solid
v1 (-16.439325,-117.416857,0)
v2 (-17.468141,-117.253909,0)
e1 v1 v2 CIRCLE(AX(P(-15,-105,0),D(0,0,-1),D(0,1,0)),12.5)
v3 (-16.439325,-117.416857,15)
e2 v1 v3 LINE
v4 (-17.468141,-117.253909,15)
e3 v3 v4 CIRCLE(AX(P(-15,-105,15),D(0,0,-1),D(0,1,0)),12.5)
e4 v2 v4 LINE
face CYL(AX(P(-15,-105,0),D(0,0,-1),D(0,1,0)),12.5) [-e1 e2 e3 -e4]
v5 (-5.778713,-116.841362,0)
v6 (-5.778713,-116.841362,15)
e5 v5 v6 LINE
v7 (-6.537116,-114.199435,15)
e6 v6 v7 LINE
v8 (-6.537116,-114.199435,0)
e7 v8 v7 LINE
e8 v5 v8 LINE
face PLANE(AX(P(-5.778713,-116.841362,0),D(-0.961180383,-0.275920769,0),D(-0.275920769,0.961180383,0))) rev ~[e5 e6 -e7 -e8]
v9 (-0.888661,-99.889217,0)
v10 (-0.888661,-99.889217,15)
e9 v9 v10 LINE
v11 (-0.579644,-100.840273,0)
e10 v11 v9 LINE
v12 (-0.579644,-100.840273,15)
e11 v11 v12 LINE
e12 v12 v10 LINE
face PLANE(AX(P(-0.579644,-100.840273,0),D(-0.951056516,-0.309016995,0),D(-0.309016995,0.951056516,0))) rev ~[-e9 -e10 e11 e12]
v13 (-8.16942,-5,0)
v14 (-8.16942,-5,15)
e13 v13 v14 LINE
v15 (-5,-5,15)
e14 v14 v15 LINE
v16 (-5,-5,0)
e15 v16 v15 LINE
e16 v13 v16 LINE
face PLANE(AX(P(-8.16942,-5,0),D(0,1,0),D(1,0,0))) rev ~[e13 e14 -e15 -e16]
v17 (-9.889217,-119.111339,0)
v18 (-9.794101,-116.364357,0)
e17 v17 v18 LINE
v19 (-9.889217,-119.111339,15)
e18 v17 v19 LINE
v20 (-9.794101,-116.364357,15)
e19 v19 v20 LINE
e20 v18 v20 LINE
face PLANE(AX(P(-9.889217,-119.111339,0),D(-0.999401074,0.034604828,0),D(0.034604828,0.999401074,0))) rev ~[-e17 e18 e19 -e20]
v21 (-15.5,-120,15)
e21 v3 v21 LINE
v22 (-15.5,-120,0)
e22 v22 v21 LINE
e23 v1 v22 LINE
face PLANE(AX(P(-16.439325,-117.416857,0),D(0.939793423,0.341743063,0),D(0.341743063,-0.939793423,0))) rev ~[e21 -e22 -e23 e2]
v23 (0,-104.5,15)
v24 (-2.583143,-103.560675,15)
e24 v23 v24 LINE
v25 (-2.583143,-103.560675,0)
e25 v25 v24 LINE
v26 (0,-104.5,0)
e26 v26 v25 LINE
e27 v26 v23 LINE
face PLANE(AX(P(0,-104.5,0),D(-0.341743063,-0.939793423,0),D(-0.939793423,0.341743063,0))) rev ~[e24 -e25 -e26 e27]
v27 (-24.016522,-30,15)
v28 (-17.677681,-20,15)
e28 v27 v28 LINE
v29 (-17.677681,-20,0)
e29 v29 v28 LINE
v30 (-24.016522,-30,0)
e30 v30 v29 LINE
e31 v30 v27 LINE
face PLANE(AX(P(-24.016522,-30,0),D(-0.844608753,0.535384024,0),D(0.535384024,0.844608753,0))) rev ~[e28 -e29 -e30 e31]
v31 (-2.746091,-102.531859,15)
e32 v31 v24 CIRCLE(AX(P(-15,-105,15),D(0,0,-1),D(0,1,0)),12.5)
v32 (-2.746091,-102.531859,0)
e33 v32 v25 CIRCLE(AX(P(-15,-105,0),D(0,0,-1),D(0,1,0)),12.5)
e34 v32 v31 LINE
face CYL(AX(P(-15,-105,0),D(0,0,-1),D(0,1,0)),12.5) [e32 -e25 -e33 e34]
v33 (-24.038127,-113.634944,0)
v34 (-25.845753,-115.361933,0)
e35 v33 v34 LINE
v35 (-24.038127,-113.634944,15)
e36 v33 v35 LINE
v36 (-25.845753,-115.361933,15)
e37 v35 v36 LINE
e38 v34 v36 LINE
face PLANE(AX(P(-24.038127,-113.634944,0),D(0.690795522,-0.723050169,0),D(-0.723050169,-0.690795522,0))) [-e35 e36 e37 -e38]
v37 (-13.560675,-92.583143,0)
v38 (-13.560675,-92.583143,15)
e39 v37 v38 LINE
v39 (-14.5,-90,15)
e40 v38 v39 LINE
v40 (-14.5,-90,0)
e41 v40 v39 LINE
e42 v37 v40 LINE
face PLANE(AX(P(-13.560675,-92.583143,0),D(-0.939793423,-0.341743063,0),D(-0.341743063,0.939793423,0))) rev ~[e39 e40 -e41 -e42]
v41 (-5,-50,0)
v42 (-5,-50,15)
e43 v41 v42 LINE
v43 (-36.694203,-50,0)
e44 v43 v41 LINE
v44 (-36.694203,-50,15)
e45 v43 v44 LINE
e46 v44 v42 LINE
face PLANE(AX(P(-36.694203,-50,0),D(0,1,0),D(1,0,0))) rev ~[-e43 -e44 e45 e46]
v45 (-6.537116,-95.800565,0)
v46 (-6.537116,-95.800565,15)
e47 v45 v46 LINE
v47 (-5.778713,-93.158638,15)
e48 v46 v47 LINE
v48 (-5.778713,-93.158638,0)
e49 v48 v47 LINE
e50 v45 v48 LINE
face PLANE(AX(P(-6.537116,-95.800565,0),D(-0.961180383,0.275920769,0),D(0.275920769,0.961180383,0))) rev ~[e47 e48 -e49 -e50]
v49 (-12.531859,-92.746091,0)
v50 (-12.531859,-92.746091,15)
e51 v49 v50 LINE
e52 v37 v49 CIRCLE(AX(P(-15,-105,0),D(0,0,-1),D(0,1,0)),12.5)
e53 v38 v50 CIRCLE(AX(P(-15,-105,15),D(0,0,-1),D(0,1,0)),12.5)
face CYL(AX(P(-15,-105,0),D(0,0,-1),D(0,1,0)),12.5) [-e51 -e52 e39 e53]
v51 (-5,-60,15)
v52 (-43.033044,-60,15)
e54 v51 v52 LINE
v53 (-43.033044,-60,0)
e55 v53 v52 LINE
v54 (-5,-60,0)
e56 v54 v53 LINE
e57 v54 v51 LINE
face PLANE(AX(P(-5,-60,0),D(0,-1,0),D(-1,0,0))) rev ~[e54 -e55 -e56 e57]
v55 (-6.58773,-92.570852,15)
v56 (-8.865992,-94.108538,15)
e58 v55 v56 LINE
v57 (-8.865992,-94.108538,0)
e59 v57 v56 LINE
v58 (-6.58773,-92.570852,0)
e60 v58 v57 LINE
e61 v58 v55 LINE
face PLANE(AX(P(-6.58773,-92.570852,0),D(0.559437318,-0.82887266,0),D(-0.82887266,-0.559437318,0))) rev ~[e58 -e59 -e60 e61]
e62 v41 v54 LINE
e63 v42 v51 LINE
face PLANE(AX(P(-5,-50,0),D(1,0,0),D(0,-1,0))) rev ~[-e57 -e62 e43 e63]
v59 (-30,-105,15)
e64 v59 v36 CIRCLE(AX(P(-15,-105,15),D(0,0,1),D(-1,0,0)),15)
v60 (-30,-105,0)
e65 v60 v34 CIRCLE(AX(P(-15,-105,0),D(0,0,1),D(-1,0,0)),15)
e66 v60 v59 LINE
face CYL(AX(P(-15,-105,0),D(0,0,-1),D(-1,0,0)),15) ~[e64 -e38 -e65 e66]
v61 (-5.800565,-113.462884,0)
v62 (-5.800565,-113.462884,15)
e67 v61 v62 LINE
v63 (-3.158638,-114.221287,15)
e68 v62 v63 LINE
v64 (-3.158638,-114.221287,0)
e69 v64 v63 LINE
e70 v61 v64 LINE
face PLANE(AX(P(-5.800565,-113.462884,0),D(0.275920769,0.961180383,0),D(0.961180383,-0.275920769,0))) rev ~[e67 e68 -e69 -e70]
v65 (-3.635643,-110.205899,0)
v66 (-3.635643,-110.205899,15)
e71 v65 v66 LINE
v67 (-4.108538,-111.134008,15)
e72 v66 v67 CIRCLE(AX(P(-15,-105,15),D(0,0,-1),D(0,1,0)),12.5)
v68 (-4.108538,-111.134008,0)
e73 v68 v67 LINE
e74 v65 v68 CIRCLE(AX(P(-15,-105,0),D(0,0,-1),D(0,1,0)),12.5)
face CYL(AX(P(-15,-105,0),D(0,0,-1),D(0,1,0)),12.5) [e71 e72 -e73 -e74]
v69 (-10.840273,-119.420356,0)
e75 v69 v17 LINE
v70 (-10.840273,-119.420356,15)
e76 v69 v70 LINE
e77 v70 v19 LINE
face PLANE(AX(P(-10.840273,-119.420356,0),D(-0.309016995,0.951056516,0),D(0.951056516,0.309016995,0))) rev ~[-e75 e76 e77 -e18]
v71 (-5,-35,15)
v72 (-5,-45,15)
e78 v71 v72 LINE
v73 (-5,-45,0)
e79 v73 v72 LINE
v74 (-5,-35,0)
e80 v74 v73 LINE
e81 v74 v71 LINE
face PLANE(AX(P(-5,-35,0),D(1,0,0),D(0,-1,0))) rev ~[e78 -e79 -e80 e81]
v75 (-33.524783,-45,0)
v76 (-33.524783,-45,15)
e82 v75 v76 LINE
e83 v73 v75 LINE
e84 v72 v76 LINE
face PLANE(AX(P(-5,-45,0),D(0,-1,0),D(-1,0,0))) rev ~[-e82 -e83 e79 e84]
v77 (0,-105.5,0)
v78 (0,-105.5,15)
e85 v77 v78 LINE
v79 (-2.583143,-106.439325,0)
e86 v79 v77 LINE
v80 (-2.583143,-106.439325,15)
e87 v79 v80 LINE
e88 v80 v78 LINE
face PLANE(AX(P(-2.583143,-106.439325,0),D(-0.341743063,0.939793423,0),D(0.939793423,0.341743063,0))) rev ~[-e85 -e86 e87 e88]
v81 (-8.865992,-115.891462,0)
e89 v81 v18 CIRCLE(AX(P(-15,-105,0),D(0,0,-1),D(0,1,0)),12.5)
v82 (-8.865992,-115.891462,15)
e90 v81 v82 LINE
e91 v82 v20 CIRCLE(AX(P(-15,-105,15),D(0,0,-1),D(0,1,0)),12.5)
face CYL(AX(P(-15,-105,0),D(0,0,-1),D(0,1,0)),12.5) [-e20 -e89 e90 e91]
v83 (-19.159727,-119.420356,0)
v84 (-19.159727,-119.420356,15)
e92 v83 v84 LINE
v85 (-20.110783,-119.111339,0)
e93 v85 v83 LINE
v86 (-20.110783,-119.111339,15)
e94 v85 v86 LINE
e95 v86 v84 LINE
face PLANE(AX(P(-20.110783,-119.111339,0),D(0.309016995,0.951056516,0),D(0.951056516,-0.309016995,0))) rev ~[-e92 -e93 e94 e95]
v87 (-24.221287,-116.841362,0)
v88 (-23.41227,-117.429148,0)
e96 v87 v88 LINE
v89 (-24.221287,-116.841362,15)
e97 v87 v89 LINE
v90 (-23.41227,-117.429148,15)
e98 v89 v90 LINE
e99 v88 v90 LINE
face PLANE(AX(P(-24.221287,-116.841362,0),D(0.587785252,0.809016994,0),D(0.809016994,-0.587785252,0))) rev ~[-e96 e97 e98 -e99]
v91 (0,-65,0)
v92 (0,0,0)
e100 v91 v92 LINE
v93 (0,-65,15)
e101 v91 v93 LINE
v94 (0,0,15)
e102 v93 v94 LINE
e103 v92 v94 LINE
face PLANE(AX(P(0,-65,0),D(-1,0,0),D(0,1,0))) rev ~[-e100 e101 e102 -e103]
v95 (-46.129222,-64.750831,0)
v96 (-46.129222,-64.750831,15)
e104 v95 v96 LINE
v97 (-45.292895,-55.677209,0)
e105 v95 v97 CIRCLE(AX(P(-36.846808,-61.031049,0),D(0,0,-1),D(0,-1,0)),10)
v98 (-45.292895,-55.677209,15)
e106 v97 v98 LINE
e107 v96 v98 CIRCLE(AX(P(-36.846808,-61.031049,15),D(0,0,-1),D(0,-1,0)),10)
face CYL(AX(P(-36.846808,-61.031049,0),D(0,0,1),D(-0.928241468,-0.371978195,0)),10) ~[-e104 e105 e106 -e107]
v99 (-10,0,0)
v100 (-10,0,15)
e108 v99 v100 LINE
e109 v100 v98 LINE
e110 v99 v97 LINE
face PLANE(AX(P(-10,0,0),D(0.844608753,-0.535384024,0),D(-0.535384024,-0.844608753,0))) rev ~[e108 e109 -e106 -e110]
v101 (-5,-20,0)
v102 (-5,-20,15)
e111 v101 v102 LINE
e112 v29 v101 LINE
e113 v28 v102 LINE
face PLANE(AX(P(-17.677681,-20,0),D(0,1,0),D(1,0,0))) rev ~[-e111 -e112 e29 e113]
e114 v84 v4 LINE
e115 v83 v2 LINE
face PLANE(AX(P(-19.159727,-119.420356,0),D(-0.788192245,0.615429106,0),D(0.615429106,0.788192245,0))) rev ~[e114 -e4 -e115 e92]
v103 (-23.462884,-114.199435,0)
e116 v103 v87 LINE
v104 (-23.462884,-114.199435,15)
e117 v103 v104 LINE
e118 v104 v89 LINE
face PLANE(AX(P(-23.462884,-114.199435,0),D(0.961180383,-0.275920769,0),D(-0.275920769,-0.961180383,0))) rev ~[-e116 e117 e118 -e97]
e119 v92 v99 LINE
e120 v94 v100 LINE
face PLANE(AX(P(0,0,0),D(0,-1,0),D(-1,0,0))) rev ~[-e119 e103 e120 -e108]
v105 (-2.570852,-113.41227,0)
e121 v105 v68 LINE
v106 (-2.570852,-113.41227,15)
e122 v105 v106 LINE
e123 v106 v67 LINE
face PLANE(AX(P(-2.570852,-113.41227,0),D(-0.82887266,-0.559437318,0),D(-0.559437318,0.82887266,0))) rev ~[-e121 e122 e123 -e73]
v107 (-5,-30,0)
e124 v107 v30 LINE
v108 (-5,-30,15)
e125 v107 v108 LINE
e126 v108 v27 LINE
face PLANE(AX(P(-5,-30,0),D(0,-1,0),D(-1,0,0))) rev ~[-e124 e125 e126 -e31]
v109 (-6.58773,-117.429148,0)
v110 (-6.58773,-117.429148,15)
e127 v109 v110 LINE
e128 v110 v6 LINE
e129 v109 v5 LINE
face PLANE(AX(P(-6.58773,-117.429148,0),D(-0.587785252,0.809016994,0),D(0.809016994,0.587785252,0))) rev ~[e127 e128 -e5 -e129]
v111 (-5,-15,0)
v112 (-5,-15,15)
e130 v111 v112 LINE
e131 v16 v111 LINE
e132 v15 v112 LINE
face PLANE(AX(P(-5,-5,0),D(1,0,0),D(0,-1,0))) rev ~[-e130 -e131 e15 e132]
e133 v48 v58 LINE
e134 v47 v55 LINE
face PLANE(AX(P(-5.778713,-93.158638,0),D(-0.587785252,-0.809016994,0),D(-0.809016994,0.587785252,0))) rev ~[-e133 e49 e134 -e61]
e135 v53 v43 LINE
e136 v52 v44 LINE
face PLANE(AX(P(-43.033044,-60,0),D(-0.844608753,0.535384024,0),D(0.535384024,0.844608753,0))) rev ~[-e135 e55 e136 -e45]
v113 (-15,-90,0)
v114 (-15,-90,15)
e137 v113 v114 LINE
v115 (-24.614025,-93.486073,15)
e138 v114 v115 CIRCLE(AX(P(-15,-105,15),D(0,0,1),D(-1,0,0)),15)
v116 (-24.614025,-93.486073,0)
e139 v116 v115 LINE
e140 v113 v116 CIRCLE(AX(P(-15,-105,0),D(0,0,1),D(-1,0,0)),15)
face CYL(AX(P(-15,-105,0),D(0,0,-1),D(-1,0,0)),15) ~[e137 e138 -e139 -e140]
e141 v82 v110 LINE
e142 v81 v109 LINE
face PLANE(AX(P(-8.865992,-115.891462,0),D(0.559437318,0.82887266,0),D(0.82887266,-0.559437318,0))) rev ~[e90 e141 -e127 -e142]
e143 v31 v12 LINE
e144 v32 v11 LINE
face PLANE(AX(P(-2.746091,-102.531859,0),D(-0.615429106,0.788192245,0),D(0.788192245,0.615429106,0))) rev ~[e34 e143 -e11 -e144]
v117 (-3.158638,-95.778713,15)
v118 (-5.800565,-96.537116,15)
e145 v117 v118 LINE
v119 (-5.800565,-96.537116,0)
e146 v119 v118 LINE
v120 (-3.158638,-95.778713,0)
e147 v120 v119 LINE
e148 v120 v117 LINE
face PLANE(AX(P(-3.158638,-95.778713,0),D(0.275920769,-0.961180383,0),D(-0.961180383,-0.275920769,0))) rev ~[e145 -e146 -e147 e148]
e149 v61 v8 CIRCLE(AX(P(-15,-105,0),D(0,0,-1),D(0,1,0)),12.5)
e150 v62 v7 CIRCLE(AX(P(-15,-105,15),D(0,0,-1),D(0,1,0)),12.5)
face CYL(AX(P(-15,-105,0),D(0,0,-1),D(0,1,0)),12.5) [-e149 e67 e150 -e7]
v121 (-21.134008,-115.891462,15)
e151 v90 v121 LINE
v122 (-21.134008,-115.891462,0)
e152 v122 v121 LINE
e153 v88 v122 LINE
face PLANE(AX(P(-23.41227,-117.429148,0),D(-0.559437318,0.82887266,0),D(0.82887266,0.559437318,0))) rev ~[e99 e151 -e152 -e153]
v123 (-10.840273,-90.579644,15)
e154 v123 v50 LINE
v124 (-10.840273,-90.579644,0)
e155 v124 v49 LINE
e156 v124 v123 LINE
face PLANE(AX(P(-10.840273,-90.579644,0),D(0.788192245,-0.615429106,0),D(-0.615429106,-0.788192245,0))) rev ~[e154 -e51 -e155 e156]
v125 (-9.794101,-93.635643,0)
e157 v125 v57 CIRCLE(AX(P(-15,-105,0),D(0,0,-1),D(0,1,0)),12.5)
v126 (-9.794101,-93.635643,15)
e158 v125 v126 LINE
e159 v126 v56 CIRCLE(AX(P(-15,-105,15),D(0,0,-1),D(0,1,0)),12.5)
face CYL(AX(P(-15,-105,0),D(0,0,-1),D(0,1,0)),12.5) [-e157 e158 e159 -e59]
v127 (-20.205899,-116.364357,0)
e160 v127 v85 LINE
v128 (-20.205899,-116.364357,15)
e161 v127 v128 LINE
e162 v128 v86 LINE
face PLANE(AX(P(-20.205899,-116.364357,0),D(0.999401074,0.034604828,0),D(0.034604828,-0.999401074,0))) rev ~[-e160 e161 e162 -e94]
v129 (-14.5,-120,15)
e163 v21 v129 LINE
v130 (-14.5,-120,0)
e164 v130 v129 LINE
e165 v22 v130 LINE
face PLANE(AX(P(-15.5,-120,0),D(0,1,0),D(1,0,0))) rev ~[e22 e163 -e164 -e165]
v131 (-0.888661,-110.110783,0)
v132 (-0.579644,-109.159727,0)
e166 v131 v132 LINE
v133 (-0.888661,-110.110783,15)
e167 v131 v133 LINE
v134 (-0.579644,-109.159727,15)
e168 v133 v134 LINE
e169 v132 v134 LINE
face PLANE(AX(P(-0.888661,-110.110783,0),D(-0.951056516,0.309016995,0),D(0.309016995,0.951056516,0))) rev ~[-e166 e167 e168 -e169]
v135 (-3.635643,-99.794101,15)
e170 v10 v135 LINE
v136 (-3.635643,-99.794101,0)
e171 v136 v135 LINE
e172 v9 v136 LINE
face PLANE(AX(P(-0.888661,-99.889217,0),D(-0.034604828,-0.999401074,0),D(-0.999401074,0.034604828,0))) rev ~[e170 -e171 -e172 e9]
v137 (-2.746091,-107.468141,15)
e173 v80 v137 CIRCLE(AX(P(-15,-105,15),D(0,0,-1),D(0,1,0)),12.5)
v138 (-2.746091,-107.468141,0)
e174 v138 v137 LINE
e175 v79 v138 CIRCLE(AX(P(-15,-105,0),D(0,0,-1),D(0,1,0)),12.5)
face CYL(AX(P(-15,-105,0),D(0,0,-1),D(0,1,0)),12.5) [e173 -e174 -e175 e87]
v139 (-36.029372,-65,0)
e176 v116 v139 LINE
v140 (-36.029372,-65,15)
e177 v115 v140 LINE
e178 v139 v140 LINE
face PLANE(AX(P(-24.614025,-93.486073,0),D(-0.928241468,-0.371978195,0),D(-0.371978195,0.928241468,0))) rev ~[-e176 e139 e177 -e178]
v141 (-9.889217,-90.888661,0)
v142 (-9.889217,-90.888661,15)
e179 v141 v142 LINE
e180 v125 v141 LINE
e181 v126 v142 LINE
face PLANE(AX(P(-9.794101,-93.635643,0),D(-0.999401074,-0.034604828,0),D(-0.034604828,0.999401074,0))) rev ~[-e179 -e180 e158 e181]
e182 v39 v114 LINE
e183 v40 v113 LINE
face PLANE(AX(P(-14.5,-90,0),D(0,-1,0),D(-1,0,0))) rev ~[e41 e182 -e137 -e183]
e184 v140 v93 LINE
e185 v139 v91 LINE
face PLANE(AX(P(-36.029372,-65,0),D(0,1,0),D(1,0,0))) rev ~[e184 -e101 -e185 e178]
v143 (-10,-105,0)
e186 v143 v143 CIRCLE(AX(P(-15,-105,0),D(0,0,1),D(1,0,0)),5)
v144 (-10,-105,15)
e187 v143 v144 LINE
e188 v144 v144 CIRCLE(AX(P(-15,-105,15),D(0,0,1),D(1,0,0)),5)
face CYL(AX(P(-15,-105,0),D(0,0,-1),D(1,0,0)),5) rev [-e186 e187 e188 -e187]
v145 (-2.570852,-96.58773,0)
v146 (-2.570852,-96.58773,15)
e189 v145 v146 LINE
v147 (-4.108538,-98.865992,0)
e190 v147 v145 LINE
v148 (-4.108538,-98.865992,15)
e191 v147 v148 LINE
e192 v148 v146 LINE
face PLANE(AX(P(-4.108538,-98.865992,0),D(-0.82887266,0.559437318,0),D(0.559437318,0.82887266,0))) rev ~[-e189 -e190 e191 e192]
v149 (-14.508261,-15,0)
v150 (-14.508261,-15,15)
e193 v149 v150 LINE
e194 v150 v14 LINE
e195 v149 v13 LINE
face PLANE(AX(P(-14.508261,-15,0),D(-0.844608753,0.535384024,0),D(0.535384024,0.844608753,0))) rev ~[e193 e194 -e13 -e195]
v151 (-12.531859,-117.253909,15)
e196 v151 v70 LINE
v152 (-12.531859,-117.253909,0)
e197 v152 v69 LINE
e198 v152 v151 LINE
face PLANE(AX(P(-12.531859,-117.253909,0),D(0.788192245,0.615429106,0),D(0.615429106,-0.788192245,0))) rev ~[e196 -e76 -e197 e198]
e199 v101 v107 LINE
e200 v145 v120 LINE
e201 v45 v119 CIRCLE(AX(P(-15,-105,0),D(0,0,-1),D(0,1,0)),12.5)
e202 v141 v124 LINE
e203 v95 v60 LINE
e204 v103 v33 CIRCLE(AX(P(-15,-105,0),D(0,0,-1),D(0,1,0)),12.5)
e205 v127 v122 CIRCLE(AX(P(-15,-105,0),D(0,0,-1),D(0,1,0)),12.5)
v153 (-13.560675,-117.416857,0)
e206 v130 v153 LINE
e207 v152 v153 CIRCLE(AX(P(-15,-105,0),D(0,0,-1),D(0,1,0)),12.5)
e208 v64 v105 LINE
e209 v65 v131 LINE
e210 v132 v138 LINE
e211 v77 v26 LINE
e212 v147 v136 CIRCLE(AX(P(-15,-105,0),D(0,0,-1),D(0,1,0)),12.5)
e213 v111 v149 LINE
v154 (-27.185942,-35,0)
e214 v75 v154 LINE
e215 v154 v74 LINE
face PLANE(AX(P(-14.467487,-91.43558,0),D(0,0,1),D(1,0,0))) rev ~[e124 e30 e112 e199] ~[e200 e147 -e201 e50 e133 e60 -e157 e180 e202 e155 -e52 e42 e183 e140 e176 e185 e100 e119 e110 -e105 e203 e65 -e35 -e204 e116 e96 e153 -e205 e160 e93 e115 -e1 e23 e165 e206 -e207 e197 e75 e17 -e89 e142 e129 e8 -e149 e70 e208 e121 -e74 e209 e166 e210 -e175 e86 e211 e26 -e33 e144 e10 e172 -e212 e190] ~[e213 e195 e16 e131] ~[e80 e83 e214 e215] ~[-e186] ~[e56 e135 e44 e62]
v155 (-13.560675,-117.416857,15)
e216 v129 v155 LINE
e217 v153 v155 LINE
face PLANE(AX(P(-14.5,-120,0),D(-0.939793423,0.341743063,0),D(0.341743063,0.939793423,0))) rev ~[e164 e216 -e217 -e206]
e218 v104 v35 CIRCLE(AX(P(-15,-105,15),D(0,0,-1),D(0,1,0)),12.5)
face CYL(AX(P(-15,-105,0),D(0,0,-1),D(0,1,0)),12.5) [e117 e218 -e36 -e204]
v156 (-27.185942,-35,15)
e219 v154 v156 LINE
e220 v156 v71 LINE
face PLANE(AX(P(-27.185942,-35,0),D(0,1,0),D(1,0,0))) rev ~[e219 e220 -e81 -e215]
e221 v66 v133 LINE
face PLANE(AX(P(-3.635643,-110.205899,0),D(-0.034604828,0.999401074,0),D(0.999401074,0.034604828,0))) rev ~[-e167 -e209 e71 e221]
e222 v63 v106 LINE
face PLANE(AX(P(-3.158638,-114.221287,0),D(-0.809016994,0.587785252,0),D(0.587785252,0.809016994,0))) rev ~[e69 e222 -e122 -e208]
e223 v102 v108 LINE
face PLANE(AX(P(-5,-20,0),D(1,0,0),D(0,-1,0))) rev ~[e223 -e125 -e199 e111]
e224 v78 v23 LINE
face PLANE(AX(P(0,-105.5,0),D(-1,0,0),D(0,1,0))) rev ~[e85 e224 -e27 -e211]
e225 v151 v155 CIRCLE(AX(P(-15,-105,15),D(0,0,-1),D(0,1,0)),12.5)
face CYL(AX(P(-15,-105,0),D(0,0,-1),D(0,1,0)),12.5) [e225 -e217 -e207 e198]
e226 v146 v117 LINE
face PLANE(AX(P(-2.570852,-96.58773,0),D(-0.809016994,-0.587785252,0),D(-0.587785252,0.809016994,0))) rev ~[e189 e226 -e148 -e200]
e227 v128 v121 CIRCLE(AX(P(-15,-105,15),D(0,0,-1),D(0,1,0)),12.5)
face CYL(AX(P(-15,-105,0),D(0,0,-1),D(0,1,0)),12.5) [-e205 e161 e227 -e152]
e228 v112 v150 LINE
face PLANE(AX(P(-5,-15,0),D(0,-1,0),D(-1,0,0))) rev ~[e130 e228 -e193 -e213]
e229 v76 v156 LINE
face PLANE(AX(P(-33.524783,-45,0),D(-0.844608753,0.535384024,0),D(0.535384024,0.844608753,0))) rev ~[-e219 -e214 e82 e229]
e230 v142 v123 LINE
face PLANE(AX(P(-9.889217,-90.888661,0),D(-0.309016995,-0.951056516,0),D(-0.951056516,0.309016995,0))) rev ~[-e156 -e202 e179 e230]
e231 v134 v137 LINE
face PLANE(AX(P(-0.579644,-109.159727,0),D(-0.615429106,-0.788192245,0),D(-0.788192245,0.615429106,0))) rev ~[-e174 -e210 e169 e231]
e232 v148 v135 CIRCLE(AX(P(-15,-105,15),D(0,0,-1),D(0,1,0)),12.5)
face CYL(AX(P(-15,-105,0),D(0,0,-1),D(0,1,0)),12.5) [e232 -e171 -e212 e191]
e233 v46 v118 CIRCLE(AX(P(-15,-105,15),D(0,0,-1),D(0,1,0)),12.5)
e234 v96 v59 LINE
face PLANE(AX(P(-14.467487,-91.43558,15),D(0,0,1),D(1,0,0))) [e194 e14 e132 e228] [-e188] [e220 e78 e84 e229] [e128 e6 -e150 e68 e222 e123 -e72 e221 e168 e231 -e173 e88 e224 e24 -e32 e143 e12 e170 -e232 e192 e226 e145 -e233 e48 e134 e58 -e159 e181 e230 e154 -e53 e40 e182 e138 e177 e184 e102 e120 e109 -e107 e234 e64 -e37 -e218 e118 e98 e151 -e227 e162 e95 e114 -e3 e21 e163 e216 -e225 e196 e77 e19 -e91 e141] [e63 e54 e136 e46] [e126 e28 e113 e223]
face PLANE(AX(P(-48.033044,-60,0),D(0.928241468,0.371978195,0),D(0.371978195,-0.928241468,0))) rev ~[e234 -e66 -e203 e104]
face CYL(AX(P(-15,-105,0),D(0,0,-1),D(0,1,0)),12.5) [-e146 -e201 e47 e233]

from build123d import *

# Parameters (mm, degrees)
SKETCH1_R           = 5
BOSS_EXTRUDE1_DEPTH = 15
CUT_EXTRUDE1_START  = -15
CUT_EXTRUDE1_DEPTH  = 15
BOSS_EXTRUDE2_START = -15
BOSS_EXTRUDE2_DEPTH = 15
FILLET1_R           = 10


with BuildPart() as part:
    # Sketch1 → Boss-Extrude1 (new body)
    with BuildSketch(Plane.XY):
        with BuildLine():
            Line((0, 0), (-10, 0))
            Line((-10, 0), (-48.033043506, -60))
            Line((-48.033043506, -60), (-30, -105))
            ThreePointArc((-30, -105), (-1.41305071, -111.355691072), (-24.614025467, -93.486073028))
            Line((-24.614025467, -93.486073028), (-36.029372005, -65))
            Line((-36.029372005, -65), (0, -65))
            Line((0, -65), (0, 0))
        make_face()
        Polygon((-5, -50), (-5, -60), (-43.033043506, -60), (-36.694202922, -50), align=None, mode=Mode.SUBTRACT)
        Polygon((-27.185942045, -35), (-5, -35), (-5, -45), (-33.52478263, -45), align=None, mode=Mode.SUBTRACT)
        Polygon((-17.677681169, -20), (-5, -20), (-5, -30), (-24.016521753, -30), align=None, mode=Mode.SUBTRACT)
        Polygon((-14.508260877, -15), (-8.169420292, -5), (-5, -5), (-5, -15), align=None, mode=Mode.SUBTRACT)
        with Locations((-15, -105)):
            Circle(SKETCH1_R, mode=Mode.SUBTRACT)
    extrude(amount=BOSS_EXTRUDE1_DEPTH)

    # Sketch2 → Cut-Extrude1 (cut)
    with BuildSketch(Plane.XY.offset(15).offset(CUT_EXTRUDE1_START)):
        with BuildLine():
            Line((-15, -90), (-15, -92.5))
            ThreePointArc((-15, -92.5), (-3.506810704, -109.914936399), (-24.038127106, -113.634944031))
            Line((-24.038127106, -113.634944031), (-25.845752528, -115.361932837))
            ThreePointArc((-25.845752528, -115.361932837), (-1.208172845, -110.897923679), (-15, -90))
        make_face()
    extrude(amount=CUT_EXTRUDE1_DEPTH, mode=Mode.SUBTRACT)

    # Sketch3 → Boss-Extrude2 (add)
    with BuildSketch(Plane.XY.offset(15).offset(BOSS_EXTRUDE2_START)):
        with BuildLine():
            Line((-14.5, -90), (-15, -90))
            Line((-15, -90), (-15, -92.5))
            ThreePointArc((-15, -92.5), (-14.279138, -92.520802992), (-13.560675373, -92.583142724))
            Line((-13.560675373, -92.583142724), (-14.5, -90))
        make_face()
        with BuildLine():
            Line((-10.840273343, -90.579643758), (-12.53185915, -92.746091205))
            ThreePointArc((-12.53185915, -92.746091205), (-11.13728757, -93.111793546), (-9.79410102, -93.635642746))
            Line((-9.79410102, -93.635642746), (-9.889216826, -90.888660753))
            Line((-9.889216826, -90.888660753), (-10.840273343, -90.579643758))
        make_face()
        with BuildLine():
            Line((-6.587729713, -92.570852458), (-8.865992497, -94.108537658))
            ThreePointArc((-8.865992497, -94.108537658), (-7.652684346, -94.88728757), (-6.53711633, -95.800565236))
            Line((-6.53711633, -95.800565236), (-5.778712718, -93.158637711))
            Line((-5.778712718, -93.158637711), (-6.587729713, -92.570852458))
        make_face()
        with BuildLine():
            Line((-3.158637711, -95.778712718), (-5.800565236, -96.53711633))
            ThreePointArc((-5.800565236, -96.53711633), (-4.88728757, -97.652684346), (-4.108537658, -98.865992497))
            Line((-4.108537658, -98.865992497), (-2.570852458, -96.587729713))
            Line((-2.570852458, -96.587729713), (-3.158637711, -95.778712718))
        make_face()
        with BuildLine():
            Line((-0.888660753, -99.889216826), (-3.635642746, -99.79410102))
            ThreePointArc((-3.635642746, -99.79410102), (-3.111793546, -101.13728757), (-2.746091205, -102.53185915))
            Line((-2.746091205, -102.53185915), (-0.579643758, -100.840273343))
            Line((-0.579643758, -100.840273343), (-0.888660753, -99.889216826))
        make_face()
        with BuildLine():
            Line((0, -104.5), (-2.583142724, -103.560675373))
            ThreePointArc((-2.583142724, -103.560675373), (-2.5, -105), (-2.583142724, -106.439324627))
            Line((-2.583142724, -106.439324627), (0, -105.5))
            Line((0, -105.5), (0, -104.5))
        make_face()
        with BuildLine():
            Line((-0.579643758, -109.159726657), (-2.746091205, -107.46814085))
            ThreePointArc((-2.746091205, -107.46814085), (-3.111793546, -108.86271243), (-3.635642746, -110.20589898))
            Line((-3.635642746, -110.20589898), (-0.888660753, -110.110783174))
            Line((-0.888660753, -110.110783174), (-0.579643758, -109.159726657))
        make_face()
        with BuildLine():
            ThreePointArc((-21.134007503, -115.891462342), (-22.347315654, -115.11271243), (-23.46288367, -114.199434764))
            Line((-23.46288367, -114.199434764), (-24.221287282, -116.841362289))
            Line((-24.221287282, -116.841362289), (-23.412270287, -117.429147542))
            Line((-23.412270287, -117.429147542), (-21.134007503, -115.891462342))
        make_face()
        with BuildLine():
            Line((-2.570852458, -113.412270287), (-4.108537658, -111.134007503))
            ThreePointArc((-4.108537658, -111.134007503), (-4.88728757, -112.347315654), (-5.800565236, -113.46288367))
            Line((-5.800565236, -113.46288367), (-3.158637711, -114.221287282))
            Line((-3.158637711, -114.221287282), (-2.570852458, -113.412270287))
        make_face()
        with BuildLine():
            ThreePointArc((-17.46814085, -117.253908795), (-18.86271243, -116.888206454), (-20.20589898, -116.364357254))
            Line((-20.20589898, -116.364357254), (-20.110783174, -119.111339247))
            Line((-20.110783174, -119.111339247), (-19.159726657, -119.420356242))
            Line((-19.159726657, -119.420356242), (-17.46814085, -117.253908795))
        make_face()
        with BuildLine():
            Line((-5.778712718, -116.841362289), (-6.53711633, -114.199434764))
            ThreePointArc((-6.53711633, -114.199434764), (-7.652684346, -115.11271243), (-8.865992497, -115.891462342))
            Line((-8.865992497, -115.891462342), (-6.587729713, -117.429147542))
            Line((-6.587729713, -117.429147542), (-5.778712718, -116.841362289))
        make_face()
        with BuildLine():
            ThreePointArc((-13.560675373, -117.416857276), (-15, -117.5), (-16.439324627, -117.416857276))
            Line((-16.439324627, -117.416857276), (-15.5, -120))
            Line((-15.5, -120), (-14.5, -120))
            Line((-14.5, -120), (-13.560675373, -117.416857276))
        make_face()
        with BuildLine():
            Line((-9.889216826, -119.111339247), (-9.79410102, -116.364357254))
            ThreePointArc((-9.79410102, -116.364357254), (-11.13728757, -116.888206454), (-12.53185915, -117.253908795))
            Line((-12.53185915, -117.253908795), (-10.840273343, -119.420356242))
            Line((-10.840273343, -119.420356242), (-9.889216826, -119.111339247))
        make_face()
    extrude(amount=BOSS_EXTRUDE2_DEPTH)

    # Fillet1
    fillet1_edges = [part.edges().sort_by_distance(p)[0] for p in [
        (-48.033043506, -60, 7.5),
    ]]
    fillet(fillet1_edges, radius=FILLET1_R)


solid = part.part
